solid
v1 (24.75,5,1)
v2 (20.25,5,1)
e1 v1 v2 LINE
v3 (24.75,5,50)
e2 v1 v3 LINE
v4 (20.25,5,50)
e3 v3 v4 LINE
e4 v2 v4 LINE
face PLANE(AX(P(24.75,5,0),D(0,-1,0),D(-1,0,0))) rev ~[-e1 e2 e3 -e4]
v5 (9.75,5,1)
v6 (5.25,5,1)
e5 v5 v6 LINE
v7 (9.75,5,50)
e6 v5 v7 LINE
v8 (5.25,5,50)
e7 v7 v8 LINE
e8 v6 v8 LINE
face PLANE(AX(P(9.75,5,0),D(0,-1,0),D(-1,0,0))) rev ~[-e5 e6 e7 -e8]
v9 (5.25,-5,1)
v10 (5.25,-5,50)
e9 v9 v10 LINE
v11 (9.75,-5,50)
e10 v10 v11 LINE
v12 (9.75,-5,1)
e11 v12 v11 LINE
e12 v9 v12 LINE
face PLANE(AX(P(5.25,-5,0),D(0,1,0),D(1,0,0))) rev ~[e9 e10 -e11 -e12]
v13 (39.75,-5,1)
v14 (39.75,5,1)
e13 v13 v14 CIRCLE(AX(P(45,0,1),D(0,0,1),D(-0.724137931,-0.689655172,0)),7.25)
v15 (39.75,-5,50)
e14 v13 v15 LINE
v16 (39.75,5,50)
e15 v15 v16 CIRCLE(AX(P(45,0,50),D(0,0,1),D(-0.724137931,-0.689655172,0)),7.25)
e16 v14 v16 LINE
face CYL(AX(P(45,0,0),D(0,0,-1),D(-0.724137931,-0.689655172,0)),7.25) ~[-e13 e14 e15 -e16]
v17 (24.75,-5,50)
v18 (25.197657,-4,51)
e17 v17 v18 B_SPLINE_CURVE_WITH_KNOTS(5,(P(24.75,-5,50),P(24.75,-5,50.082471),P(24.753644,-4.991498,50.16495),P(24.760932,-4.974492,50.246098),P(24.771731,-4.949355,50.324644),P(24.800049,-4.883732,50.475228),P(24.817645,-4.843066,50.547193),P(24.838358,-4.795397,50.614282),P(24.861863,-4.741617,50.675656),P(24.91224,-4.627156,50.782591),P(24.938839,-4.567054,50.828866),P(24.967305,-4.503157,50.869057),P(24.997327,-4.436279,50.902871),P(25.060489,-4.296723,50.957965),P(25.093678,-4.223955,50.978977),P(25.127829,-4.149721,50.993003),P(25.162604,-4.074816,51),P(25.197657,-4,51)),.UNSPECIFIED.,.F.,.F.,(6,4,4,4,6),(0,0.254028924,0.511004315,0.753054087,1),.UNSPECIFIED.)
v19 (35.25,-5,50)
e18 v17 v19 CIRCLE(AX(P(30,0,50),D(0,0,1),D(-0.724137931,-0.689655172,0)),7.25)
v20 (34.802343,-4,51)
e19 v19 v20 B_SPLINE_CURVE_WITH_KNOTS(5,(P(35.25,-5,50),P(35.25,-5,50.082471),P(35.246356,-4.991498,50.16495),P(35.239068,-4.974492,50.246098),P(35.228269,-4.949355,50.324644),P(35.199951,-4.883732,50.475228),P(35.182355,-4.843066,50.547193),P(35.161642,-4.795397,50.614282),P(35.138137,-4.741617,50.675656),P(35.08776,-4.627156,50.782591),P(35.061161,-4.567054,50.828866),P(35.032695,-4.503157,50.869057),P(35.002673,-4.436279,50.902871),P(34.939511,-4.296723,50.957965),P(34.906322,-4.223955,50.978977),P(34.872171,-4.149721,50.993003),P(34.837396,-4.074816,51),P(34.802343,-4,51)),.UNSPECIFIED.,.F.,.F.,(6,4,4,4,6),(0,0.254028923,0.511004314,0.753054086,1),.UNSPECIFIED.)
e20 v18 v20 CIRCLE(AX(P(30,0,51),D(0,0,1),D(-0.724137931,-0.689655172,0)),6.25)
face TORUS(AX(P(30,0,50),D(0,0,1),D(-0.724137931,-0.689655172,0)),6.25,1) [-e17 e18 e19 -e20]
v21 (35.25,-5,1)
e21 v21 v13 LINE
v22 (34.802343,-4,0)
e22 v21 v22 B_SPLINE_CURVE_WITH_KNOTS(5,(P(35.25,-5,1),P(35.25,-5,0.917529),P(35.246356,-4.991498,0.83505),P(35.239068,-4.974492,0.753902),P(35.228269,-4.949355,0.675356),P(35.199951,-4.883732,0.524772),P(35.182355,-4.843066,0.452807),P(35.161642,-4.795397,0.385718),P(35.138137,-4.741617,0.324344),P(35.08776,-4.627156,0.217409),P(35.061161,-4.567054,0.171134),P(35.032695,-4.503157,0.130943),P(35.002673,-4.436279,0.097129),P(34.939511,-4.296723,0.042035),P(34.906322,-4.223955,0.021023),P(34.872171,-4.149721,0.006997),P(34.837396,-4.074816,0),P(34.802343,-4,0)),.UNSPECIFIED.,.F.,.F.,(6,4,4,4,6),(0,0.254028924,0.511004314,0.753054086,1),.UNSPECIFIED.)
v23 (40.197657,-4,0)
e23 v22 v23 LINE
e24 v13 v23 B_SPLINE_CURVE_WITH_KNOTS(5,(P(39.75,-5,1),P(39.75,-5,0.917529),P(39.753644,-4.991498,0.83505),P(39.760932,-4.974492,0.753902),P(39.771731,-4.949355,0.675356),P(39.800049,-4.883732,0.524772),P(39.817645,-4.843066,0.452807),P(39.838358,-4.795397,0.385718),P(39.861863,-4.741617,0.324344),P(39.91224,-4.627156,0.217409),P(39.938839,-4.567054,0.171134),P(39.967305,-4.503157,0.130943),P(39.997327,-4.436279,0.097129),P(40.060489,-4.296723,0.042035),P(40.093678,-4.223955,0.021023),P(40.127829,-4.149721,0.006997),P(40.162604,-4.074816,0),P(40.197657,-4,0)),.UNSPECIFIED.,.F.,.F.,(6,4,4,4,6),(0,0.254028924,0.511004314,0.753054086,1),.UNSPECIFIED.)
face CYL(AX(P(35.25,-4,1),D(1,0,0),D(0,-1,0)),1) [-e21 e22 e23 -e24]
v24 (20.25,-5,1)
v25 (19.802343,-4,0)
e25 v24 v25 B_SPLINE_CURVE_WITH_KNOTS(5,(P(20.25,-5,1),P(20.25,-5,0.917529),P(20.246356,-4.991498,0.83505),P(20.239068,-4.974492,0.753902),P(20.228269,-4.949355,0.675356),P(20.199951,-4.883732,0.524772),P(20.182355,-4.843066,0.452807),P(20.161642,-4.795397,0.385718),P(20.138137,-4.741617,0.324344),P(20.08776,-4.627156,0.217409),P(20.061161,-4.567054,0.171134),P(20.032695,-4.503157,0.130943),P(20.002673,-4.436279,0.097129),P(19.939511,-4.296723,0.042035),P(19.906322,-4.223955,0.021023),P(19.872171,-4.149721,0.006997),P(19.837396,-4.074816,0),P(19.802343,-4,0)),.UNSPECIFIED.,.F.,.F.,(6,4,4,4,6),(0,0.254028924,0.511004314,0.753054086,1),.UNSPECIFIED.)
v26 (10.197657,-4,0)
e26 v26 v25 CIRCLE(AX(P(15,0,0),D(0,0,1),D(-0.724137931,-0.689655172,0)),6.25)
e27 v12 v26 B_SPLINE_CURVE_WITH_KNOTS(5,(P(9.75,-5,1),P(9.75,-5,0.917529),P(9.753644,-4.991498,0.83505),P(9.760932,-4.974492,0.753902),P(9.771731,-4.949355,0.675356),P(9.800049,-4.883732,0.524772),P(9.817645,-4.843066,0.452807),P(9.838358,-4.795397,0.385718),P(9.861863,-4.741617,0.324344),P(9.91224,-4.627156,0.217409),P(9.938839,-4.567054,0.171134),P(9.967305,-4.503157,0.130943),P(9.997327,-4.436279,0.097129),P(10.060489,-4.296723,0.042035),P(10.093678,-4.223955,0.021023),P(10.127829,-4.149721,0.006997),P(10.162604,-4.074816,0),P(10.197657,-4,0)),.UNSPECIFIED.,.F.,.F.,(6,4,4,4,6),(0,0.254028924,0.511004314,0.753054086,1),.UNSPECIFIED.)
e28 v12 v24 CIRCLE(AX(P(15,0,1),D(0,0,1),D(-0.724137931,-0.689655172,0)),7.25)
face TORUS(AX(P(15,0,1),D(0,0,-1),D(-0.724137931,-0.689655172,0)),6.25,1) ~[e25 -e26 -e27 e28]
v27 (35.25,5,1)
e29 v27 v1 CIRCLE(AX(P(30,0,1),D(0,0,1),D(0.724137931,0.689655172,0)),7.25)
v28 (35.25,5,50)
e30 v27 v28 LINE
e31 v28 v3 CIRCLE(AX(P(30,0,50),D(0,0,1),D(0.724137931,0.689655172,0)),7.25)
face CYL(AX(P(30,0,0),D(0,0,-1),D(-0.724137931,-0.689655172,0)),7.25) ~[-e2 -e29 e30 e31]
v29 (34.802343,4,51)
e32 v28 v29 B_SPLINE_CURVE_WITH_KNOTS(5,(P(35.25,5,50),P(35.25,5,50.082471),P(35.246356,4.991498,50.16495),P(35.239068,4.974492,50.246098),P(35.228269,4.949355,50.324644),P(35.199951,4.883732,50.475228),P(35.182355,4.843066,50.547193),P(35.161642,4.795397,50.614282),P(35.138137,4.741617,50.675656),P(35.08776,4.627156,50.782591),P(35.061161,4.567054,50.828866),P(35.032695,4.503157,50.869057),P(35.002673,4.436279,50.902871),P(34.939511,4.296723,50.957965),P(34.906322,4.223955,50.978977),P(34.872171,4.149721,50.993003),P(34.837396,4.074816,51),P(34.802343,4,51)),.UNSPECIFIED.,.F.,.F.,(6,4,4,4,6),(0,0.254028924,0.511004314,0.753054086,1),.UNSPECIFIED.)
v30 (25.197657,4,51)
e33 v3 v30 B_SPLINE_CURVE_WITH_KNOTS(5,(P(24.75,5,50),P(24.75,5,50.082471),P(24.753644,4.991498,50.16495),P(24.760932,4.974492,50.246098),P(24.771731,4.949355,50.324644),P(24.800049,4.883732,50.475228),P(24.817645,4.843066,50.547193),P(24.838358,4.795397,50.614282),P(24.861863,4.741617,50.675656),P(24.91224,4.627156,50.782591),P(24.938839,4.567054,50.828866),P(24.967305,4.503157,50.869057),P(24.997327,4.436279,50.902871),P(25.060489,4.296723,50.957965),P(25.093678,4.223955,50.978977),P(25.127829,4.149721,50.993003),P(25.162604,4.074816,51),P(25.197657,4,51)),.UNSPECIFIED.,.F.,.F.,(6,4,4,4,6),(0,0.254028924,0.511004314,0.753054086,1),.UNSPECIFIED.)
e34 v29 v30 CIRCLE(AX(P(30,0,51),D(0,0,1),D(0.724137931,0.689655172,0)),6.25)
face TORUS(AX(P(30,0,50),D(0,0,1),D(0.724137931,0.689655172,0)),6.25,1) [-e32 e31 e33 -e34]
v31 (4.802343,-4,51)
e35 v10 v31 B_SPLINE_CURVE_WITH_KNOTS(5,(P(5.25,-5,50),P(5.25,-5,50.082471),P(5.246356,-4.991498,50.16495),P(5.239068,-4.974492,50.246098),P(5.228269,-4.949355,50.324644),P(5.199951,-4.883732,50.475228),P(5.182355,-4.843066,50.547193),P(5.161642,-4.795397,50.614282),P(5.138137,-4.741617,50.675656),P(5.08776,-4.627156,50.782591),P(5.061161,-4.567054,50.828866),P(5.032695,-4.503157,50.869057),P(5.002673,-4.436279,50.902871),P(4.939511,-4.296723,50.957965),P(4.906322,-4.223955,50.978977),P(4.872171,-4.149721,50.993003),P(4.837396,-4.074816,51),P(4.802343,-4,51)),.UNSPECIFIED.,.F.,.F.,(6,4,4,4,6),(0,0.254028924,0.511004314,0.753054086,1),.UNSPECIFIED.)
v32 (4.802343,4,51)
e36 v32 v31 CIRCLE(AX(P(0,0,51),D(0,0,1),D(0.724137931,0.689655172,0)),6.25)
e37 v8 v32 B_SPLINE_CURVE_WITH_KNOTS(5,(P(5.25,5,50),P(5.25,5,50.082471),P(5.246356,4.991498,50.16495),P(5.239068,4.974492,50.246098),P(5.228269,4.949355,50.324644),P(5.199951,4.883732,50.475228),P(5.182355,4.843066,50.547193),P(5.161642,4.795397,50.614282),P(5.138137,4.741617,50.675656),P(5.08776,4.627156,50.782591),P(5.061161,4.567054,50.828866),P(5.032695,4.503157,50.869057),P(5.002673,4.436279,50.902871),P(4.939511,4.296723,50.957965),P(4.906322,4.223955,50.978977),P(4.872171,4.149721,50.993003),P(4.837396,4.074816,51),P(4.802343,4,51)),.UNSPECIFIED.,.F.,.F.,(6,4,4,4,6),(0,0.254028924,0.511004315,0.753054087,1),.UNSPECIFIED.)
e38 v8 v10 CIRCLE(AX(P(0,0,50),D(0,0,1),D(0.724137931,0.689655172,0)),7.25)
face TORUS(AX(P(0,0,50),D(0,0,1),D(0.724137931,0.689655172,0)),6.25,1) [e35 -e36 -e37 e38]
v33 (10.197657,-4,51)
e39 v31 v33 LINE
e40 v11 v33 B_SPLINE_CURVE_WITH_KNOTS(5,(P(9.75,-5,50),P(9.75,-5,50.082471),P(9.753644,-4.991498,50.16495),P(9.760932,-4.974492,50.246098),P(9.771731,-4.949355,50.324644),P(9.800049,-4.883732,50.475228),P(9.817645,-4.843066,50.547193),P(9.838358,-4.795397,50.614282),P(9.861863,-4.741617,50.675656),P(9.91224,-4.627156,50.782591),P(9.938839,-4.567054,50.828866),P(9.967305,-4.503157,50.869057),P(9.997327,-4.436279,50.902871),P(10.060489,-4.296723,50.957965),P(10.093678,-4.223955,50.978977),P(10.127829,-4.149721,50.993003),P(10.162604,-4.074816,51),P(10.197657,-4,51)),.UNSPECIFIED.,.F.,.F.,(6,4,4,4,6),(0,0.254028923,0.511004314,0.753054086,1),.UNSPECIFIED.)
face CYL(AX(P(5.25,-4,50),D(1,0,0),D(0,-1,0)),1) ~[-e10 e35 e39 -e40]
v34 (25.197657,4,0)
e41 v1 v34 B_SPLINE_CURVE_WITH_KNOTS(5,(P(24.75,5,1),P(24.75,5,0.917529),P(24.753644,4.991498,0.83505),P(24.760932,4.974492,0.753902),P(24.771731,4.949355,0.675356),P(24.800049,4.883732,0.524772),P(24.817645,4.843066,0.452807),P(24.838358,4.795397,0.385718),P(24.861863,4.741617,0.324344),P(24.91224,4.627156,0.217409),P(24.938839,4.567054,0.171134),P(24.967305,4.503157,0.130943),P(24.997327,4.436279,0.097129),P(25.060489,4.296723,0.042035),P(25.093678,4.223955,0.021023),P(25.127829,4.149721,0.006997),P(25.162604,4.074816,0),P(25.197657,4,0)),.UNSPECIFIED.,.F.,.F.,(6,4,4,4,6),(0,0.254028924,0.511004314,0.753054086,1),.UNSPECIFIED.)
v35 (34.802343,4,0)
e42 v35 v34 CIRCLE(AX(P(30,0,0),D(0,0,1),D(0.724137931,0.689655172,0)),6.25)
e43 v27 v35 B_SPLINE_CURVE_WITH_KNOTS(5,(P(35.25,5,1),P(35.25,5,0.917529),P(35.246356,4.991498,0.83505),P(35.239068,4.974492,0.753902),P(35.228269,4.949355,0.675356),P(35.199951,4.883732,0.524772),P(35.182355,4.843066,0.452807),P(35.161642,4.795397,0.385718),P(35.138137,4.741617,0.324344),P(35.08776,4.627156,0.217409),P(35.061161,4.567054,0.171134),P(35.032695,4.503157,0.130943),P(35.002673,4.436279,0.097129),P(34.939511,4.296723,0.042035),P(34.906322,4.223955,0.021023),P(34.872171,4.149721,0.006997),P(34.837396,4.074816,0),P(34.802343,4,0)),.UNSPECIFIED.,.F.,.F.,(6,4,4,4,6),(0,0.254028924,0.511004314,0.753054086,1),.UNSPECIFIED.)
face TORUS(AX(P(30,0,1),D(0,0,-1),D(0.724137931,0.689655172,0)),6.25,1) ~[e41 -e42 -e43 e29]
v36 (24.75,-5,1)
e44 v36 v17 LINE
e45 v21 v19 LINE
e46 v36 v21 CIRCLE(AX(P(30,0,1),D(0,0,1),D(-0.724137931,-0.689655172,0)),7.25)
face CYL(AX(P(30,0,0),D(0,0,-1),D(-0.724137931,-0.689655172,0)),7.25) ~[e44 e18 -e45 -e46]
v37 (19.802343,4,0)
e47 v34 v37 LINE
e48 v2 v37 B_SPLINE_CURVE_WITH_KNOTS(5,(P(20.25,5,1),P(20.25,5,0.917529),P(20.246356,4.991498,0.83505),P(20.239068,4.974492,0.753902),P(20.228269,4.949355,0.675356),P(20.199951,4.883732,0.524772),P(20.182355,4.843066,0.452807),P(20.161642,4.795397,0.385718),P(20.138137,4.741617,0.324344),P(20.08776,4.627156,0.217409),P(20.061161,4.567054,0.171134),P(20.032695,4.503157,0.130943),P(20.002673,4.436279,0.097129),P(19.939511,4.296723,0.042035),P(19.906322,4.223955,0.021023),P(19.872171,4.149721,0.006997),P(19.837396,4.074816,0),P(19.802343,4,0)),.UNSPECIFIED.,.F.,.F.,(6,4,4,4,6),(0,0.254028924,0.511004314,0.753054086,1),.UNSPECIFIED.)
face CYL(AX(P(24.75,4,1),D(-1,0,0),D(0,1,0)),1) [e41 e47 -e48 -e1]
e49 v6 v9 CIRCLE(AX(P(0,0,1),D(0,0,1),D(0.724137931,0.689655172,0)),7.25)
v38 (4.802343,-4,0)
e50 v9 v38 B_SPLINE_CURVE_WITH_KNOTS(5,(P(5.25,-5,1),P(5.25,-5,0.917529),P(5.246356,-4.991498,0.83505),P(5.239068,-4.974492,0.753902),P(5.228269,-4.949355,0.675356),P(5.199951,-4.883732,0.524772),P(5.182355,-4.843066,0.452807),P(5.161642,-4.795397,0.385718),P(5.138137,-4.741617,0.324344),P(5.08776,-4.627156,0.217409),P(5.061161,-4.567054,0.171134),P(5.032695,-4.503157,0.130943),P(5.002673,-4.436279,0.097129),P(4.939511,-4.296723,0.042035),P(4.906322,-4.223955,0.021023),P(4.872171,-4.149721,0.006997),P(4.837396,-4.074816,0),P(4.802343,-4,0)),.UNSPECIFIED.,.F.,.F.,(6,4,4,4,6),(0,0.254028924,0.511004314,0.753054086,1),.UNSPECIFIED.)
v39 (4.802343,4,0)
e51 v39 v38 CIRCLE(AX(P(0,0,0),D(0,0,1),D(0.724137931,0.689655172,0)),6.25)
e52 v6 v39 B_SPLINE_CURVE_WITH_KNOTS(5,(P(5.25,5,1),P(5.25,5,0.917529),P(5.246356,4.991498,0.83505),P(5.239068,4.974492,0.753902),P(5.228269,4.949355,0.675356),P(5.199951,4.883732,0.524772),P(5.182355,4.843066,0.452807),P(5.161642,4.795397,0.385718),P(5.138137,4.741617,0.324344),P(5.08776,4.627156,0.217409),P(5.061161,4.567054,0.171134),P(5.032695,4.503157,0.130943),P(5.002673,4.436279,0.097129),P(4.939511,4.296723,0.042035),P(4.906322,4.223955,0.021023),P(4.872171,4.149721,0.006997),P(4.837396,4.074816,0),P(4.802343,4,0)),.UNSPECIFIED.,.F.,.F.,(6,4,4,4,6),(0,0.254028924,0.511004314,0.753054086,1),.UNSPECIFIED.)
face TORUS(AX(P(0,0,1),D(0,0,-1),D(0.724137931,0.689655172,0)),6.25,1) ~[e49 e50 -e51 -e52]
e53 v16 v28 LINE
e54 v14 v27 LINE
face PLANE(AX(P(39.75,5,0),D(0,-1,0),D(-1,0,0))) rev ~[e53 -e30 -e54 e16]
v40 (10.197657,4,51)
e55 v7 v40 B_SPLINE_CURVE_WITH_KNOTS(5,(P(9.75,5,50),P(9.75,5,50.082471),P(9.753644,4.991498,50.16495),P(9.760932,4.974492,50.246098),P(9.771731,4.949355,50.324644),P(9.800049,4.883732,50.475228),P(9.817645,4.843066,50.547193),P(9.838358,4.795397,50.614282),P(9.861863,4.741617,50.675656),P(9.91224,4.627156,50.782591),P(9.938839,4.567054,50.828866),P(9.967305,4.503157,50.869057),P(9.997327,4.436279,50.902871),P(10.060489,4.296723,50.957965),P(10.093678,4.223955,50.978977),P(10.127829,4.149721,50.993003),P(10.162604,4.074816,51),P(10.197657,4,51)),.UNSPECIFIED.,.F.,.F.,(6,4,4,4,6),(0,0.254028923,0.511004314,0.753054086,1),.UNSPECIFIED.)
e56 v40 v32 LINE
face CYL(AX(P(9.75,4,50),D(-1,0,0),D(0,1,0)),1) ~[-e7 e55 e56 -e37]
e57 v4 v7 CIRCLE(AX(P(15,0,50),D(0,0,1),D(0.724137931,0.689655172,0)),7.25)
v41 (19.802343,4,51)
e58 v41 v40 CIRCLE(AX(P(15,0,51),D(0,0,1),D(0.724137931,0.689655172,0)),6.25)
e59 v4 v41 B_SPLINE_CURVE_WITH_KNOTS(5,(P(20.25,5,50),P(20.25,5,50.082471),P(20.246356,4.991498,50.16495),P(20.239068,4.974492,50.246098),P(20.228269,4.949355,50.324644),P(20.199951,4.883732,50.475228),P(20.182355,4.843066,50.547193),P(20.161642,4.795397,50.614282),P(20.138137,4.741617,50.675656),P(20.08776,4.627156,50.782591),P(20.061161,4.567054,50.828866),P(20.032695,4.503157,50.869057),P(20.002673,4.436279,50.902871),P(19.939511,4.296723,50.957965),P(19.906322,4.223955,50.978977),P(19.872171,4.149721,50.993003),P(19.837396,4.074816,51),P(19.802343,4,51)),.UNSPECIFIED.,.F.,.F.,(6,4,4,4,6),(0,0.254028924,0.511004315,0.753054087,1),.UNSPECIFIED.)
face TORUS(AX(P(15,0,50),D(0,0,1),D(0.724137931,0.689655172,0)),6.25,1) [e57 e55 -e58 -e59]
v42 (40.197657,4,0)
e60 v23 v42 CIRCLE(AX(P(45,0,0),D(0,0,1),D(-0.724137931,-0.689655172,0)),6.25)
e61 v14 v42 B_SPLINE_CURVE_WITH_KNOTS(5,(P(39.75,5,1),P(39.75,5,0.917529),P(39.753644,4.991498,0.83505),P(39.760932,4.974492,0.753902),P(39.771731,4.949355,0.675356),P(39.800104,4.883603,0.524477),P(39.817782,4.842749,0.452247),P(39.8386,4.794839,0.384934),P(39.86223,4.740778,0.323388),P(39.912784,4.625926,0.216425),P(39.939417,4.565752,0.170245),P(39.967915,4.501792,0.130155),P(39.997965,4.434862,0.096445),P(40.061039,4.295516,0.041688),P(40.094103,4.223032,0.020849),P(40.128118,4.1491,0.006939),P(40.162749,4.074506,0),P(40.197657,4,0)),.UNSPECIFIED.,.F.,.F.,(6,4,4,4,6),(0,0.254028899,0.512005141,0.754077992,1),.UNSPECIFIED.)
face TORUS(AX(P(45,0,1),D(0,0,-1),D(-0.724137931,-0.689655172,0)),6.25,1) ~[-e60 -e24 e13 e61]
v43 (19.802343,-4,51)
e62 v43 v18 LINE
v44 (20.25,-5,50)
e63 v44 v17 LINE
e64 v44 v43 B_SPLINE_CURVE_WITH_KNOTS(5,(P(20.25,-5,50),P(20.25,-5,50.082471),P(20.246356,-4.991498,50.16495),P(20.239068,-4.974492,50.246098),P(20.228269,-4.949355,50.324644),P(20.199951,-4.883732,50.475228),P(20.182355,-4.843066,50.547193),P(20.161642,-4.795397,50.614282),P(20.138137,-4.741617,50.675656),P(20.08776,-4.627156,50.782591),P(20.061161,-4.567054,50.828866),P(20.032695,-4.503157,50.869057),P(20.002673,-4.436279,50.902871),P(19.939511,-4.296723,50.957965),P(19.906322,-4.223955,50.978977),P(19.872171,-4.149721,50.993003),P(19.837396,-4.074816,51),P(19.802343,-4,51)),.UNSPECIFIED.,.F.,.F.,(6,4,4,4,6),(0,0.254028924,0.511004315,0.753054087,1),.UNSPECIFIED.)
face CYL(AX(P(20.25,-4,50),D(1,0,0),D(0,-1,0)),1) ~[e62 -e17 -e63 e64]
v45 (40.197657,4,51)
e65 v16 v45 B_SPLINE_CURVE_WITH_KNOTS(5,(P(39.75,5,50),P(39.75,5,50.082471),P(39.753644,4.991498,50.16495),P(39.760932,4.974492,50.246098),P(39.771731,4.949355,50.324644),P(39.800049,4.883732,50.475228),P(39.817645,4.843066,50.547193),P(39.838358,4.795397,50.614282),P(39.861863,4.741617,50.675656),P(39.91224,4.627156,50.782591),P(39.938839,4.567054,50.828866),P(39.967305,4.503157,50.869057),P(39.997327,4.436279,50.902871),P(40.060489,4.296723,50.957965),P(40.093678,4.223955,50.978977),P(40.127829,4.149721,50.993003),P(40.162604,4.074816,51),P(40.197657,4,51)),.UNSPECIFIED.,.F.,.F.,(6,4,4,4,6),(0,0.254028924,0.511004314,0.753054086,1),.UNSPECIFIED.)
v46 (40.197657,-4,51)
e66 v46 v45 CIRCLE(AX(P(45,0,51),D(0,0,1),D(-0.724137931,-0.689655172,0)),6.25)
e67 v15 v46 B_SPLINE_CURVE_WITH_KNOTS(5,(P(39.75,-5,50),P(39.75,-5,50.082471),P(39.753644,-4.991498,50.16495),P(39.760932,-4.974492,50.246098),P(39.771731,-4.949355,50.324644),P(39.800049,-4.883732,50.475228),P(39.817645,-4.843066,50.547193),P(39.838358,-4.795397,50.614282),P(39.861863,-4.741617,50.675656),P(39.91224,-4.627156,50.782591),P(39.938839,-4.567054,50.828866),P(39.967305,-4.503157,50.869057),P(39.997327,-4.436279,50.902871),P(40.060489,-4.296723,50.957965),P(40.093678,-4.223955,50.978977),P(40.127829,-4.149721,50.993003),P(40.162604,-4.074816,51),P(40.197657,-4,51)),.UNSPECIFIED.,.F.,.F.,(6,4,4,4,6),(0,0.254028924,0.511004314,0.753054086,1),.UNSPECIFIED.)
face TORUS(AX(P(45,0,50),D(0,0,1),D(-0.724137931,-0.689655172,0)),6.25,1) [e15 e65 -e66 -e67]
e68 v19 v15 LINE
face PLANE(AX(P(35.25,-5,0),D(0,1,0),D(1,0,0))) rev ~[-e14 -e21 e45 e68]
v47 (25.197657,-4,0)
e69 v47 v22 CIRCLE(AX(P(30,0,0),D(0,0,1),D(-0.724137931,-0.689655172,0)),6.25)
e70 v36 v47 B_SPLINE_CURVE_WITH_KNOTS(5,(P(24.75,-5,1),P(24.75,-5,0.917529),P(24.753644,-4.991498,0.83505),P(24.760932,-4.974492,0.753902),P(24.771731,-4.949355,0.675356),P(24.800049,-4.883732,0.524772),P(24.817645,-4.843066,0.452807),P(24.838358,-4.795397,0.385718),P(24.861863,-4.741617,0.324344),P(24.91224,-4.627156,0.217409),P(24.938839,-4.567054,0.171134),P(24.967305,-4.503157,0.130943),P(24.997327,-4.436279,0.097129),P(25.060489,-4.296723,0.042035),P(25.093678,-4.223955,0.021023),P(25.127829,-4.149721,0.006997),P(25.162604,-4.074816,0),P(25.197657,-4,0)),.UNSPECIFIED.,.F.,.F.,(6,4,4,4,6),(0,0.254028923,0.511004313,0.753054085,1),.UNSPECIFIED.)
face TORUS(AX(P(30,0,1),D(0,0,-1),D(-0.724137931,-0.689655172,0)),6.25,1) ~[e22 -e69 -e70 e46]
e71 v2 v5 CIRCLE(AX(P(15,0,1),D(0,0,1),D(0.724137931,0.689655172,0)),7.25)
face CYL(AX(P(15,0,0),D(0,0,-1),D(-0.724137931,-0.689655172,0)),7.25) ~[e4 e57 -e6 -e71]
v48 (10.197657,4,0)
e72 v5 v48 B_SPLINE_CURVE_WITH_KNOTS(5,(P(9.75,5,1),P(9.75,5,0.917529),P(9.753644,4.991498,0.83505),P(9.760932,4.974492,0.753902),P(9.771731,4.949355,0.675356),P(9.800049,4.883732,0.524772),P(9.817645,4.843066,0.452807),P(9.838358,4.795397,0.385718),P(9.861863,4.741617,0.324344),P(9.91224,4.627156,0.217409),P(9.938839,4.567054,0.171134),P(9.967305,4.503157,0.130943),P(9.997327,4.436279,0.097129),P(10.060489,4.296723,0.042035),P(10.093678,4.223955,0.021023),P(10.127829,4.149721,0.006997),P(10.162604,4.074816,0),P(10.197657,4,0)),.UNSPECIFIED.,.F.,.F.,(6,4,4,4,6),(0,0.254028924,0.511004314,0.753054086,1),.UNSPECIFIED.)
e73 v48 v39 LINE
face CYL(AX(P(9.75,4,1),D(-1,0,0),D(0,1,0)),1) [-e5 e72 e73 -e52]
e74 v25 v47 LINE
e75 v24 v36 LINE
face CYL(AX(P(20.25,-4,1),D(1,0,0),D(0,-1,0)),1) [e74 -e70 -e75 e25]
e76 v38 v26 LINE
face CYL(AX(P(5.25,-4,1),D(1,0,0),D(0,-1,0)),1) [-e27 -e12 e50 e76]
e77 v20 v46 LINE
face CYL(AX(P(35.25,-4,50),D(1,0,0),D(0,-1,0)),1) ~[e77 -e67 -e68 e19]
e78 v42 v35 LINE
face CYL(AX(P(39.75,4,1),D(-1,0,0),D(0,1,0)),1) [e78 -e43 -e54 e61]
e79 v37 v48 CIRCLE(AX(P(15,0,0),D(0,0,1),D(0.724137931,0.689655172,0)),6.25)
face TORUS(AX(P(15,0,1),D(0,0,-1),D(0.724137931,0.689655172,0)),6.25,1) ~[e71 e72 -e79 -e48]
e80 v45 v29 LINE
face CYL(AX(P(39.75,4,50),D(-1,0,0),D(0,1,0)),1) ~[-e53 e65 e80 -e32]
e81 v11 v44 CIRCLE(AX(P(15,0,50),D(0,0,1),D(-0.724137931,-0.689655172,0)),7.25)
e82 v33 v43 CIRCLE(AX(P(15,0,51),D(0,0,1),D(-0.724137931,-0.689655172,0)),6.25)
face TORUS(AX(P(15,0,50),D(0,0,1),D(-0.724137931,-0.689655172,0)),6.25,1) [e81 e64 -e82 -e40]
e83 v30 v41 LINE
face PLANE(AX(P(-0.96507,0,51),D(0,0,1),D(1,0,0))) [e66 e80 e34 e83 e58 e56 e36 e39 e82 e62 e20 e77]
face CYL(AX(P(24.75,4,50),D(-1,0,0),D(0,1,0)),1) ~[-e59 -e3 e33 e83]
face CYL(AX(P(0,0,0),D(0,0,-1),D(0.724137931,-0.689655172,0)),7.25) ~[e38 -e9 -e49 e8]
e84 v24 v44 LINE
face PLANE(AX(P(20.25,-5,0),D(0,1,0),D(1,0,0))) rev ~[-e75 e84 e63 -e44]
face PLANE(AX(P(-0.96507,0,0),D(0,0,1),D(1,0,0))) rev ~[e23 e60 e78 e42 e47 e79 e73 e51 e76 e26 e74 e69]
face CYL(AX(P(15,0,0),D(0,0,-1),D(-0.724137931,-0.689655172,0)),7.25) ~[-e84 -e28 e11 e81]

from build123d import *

# Parameters (mm, degrees)
BOSS_EXTRUDE1_DEPTH = 51
FILLET1_R           = 1


with BuildPart() as part:
    # Sketch1 → Boss-Extrude1 (new body)
    with BuildSketch(Plane.XY):
        with BuildLine():
            ThreePointArc((5.25, 5), (-7.25, 0), (5.25, -5))
            Line((5.25, -5), (9.75, -5))
            ThreePointArc((9.75, -5), (15, -7.25), (20.25, -5))
            Line((20.25, -5), (24.75, -5))
            ThreePointArc((24.75, -5), (30, -7.25), (35.25, -5))
            Line((35.25, -5), (39.75, -5))
            ThreePointArc((39.75, -5), (52.25, 0), (39.75, 5))
            Line((39.75, 5), (35.25, 5))
            ThreePointArc((35.25, 5), (30, 7.25), (24.75, 5))
            Line((24.75, 5), (20.25, 5))
            ThreePointArc((20.25, 5), (15, 7.25), (9.75, 5))
            Line((9.75, 5), (5.25, 5))
        make_face()
    extrude(amount=BOSS_EXTRUDE1_DEPTH)

    # Fillet1
    fillet1_edges = [part.edges().sort_by_distance(p)[0] for p in [
        (7.5, -5, 0),
        (15, -7.25, 0),
        (22.5, -5, 0),
        (30, -7.25, 0),
        (37.5, -5, 0),
        (52.25, 0, 0),
        (37.5, 5, 0),
        (30, 7.25, 0),
        (22.5, 5, 0),
        (15, 7.25, 0),
        (7.5, 5, 0),
        (-7.25, 0, 0),
        (7.5, 5, 51),
        (15, 7.25, 51),
        (22.5, 5, 51),
        (30, 7.25, 51),
        (37.5, 5, 51),
        (52.25, 0, 51),
        (37.5, -5, 51),
        (30, -7.25, 51),
        (22.5, -5, 51),
        (15, -7.25, 51),
        (7.5, -5, 51),
        (-7.25, 0, 51),
    ]]
    fillet(fillet1_edges, radius=FILLET1_R)


solid = part.part
